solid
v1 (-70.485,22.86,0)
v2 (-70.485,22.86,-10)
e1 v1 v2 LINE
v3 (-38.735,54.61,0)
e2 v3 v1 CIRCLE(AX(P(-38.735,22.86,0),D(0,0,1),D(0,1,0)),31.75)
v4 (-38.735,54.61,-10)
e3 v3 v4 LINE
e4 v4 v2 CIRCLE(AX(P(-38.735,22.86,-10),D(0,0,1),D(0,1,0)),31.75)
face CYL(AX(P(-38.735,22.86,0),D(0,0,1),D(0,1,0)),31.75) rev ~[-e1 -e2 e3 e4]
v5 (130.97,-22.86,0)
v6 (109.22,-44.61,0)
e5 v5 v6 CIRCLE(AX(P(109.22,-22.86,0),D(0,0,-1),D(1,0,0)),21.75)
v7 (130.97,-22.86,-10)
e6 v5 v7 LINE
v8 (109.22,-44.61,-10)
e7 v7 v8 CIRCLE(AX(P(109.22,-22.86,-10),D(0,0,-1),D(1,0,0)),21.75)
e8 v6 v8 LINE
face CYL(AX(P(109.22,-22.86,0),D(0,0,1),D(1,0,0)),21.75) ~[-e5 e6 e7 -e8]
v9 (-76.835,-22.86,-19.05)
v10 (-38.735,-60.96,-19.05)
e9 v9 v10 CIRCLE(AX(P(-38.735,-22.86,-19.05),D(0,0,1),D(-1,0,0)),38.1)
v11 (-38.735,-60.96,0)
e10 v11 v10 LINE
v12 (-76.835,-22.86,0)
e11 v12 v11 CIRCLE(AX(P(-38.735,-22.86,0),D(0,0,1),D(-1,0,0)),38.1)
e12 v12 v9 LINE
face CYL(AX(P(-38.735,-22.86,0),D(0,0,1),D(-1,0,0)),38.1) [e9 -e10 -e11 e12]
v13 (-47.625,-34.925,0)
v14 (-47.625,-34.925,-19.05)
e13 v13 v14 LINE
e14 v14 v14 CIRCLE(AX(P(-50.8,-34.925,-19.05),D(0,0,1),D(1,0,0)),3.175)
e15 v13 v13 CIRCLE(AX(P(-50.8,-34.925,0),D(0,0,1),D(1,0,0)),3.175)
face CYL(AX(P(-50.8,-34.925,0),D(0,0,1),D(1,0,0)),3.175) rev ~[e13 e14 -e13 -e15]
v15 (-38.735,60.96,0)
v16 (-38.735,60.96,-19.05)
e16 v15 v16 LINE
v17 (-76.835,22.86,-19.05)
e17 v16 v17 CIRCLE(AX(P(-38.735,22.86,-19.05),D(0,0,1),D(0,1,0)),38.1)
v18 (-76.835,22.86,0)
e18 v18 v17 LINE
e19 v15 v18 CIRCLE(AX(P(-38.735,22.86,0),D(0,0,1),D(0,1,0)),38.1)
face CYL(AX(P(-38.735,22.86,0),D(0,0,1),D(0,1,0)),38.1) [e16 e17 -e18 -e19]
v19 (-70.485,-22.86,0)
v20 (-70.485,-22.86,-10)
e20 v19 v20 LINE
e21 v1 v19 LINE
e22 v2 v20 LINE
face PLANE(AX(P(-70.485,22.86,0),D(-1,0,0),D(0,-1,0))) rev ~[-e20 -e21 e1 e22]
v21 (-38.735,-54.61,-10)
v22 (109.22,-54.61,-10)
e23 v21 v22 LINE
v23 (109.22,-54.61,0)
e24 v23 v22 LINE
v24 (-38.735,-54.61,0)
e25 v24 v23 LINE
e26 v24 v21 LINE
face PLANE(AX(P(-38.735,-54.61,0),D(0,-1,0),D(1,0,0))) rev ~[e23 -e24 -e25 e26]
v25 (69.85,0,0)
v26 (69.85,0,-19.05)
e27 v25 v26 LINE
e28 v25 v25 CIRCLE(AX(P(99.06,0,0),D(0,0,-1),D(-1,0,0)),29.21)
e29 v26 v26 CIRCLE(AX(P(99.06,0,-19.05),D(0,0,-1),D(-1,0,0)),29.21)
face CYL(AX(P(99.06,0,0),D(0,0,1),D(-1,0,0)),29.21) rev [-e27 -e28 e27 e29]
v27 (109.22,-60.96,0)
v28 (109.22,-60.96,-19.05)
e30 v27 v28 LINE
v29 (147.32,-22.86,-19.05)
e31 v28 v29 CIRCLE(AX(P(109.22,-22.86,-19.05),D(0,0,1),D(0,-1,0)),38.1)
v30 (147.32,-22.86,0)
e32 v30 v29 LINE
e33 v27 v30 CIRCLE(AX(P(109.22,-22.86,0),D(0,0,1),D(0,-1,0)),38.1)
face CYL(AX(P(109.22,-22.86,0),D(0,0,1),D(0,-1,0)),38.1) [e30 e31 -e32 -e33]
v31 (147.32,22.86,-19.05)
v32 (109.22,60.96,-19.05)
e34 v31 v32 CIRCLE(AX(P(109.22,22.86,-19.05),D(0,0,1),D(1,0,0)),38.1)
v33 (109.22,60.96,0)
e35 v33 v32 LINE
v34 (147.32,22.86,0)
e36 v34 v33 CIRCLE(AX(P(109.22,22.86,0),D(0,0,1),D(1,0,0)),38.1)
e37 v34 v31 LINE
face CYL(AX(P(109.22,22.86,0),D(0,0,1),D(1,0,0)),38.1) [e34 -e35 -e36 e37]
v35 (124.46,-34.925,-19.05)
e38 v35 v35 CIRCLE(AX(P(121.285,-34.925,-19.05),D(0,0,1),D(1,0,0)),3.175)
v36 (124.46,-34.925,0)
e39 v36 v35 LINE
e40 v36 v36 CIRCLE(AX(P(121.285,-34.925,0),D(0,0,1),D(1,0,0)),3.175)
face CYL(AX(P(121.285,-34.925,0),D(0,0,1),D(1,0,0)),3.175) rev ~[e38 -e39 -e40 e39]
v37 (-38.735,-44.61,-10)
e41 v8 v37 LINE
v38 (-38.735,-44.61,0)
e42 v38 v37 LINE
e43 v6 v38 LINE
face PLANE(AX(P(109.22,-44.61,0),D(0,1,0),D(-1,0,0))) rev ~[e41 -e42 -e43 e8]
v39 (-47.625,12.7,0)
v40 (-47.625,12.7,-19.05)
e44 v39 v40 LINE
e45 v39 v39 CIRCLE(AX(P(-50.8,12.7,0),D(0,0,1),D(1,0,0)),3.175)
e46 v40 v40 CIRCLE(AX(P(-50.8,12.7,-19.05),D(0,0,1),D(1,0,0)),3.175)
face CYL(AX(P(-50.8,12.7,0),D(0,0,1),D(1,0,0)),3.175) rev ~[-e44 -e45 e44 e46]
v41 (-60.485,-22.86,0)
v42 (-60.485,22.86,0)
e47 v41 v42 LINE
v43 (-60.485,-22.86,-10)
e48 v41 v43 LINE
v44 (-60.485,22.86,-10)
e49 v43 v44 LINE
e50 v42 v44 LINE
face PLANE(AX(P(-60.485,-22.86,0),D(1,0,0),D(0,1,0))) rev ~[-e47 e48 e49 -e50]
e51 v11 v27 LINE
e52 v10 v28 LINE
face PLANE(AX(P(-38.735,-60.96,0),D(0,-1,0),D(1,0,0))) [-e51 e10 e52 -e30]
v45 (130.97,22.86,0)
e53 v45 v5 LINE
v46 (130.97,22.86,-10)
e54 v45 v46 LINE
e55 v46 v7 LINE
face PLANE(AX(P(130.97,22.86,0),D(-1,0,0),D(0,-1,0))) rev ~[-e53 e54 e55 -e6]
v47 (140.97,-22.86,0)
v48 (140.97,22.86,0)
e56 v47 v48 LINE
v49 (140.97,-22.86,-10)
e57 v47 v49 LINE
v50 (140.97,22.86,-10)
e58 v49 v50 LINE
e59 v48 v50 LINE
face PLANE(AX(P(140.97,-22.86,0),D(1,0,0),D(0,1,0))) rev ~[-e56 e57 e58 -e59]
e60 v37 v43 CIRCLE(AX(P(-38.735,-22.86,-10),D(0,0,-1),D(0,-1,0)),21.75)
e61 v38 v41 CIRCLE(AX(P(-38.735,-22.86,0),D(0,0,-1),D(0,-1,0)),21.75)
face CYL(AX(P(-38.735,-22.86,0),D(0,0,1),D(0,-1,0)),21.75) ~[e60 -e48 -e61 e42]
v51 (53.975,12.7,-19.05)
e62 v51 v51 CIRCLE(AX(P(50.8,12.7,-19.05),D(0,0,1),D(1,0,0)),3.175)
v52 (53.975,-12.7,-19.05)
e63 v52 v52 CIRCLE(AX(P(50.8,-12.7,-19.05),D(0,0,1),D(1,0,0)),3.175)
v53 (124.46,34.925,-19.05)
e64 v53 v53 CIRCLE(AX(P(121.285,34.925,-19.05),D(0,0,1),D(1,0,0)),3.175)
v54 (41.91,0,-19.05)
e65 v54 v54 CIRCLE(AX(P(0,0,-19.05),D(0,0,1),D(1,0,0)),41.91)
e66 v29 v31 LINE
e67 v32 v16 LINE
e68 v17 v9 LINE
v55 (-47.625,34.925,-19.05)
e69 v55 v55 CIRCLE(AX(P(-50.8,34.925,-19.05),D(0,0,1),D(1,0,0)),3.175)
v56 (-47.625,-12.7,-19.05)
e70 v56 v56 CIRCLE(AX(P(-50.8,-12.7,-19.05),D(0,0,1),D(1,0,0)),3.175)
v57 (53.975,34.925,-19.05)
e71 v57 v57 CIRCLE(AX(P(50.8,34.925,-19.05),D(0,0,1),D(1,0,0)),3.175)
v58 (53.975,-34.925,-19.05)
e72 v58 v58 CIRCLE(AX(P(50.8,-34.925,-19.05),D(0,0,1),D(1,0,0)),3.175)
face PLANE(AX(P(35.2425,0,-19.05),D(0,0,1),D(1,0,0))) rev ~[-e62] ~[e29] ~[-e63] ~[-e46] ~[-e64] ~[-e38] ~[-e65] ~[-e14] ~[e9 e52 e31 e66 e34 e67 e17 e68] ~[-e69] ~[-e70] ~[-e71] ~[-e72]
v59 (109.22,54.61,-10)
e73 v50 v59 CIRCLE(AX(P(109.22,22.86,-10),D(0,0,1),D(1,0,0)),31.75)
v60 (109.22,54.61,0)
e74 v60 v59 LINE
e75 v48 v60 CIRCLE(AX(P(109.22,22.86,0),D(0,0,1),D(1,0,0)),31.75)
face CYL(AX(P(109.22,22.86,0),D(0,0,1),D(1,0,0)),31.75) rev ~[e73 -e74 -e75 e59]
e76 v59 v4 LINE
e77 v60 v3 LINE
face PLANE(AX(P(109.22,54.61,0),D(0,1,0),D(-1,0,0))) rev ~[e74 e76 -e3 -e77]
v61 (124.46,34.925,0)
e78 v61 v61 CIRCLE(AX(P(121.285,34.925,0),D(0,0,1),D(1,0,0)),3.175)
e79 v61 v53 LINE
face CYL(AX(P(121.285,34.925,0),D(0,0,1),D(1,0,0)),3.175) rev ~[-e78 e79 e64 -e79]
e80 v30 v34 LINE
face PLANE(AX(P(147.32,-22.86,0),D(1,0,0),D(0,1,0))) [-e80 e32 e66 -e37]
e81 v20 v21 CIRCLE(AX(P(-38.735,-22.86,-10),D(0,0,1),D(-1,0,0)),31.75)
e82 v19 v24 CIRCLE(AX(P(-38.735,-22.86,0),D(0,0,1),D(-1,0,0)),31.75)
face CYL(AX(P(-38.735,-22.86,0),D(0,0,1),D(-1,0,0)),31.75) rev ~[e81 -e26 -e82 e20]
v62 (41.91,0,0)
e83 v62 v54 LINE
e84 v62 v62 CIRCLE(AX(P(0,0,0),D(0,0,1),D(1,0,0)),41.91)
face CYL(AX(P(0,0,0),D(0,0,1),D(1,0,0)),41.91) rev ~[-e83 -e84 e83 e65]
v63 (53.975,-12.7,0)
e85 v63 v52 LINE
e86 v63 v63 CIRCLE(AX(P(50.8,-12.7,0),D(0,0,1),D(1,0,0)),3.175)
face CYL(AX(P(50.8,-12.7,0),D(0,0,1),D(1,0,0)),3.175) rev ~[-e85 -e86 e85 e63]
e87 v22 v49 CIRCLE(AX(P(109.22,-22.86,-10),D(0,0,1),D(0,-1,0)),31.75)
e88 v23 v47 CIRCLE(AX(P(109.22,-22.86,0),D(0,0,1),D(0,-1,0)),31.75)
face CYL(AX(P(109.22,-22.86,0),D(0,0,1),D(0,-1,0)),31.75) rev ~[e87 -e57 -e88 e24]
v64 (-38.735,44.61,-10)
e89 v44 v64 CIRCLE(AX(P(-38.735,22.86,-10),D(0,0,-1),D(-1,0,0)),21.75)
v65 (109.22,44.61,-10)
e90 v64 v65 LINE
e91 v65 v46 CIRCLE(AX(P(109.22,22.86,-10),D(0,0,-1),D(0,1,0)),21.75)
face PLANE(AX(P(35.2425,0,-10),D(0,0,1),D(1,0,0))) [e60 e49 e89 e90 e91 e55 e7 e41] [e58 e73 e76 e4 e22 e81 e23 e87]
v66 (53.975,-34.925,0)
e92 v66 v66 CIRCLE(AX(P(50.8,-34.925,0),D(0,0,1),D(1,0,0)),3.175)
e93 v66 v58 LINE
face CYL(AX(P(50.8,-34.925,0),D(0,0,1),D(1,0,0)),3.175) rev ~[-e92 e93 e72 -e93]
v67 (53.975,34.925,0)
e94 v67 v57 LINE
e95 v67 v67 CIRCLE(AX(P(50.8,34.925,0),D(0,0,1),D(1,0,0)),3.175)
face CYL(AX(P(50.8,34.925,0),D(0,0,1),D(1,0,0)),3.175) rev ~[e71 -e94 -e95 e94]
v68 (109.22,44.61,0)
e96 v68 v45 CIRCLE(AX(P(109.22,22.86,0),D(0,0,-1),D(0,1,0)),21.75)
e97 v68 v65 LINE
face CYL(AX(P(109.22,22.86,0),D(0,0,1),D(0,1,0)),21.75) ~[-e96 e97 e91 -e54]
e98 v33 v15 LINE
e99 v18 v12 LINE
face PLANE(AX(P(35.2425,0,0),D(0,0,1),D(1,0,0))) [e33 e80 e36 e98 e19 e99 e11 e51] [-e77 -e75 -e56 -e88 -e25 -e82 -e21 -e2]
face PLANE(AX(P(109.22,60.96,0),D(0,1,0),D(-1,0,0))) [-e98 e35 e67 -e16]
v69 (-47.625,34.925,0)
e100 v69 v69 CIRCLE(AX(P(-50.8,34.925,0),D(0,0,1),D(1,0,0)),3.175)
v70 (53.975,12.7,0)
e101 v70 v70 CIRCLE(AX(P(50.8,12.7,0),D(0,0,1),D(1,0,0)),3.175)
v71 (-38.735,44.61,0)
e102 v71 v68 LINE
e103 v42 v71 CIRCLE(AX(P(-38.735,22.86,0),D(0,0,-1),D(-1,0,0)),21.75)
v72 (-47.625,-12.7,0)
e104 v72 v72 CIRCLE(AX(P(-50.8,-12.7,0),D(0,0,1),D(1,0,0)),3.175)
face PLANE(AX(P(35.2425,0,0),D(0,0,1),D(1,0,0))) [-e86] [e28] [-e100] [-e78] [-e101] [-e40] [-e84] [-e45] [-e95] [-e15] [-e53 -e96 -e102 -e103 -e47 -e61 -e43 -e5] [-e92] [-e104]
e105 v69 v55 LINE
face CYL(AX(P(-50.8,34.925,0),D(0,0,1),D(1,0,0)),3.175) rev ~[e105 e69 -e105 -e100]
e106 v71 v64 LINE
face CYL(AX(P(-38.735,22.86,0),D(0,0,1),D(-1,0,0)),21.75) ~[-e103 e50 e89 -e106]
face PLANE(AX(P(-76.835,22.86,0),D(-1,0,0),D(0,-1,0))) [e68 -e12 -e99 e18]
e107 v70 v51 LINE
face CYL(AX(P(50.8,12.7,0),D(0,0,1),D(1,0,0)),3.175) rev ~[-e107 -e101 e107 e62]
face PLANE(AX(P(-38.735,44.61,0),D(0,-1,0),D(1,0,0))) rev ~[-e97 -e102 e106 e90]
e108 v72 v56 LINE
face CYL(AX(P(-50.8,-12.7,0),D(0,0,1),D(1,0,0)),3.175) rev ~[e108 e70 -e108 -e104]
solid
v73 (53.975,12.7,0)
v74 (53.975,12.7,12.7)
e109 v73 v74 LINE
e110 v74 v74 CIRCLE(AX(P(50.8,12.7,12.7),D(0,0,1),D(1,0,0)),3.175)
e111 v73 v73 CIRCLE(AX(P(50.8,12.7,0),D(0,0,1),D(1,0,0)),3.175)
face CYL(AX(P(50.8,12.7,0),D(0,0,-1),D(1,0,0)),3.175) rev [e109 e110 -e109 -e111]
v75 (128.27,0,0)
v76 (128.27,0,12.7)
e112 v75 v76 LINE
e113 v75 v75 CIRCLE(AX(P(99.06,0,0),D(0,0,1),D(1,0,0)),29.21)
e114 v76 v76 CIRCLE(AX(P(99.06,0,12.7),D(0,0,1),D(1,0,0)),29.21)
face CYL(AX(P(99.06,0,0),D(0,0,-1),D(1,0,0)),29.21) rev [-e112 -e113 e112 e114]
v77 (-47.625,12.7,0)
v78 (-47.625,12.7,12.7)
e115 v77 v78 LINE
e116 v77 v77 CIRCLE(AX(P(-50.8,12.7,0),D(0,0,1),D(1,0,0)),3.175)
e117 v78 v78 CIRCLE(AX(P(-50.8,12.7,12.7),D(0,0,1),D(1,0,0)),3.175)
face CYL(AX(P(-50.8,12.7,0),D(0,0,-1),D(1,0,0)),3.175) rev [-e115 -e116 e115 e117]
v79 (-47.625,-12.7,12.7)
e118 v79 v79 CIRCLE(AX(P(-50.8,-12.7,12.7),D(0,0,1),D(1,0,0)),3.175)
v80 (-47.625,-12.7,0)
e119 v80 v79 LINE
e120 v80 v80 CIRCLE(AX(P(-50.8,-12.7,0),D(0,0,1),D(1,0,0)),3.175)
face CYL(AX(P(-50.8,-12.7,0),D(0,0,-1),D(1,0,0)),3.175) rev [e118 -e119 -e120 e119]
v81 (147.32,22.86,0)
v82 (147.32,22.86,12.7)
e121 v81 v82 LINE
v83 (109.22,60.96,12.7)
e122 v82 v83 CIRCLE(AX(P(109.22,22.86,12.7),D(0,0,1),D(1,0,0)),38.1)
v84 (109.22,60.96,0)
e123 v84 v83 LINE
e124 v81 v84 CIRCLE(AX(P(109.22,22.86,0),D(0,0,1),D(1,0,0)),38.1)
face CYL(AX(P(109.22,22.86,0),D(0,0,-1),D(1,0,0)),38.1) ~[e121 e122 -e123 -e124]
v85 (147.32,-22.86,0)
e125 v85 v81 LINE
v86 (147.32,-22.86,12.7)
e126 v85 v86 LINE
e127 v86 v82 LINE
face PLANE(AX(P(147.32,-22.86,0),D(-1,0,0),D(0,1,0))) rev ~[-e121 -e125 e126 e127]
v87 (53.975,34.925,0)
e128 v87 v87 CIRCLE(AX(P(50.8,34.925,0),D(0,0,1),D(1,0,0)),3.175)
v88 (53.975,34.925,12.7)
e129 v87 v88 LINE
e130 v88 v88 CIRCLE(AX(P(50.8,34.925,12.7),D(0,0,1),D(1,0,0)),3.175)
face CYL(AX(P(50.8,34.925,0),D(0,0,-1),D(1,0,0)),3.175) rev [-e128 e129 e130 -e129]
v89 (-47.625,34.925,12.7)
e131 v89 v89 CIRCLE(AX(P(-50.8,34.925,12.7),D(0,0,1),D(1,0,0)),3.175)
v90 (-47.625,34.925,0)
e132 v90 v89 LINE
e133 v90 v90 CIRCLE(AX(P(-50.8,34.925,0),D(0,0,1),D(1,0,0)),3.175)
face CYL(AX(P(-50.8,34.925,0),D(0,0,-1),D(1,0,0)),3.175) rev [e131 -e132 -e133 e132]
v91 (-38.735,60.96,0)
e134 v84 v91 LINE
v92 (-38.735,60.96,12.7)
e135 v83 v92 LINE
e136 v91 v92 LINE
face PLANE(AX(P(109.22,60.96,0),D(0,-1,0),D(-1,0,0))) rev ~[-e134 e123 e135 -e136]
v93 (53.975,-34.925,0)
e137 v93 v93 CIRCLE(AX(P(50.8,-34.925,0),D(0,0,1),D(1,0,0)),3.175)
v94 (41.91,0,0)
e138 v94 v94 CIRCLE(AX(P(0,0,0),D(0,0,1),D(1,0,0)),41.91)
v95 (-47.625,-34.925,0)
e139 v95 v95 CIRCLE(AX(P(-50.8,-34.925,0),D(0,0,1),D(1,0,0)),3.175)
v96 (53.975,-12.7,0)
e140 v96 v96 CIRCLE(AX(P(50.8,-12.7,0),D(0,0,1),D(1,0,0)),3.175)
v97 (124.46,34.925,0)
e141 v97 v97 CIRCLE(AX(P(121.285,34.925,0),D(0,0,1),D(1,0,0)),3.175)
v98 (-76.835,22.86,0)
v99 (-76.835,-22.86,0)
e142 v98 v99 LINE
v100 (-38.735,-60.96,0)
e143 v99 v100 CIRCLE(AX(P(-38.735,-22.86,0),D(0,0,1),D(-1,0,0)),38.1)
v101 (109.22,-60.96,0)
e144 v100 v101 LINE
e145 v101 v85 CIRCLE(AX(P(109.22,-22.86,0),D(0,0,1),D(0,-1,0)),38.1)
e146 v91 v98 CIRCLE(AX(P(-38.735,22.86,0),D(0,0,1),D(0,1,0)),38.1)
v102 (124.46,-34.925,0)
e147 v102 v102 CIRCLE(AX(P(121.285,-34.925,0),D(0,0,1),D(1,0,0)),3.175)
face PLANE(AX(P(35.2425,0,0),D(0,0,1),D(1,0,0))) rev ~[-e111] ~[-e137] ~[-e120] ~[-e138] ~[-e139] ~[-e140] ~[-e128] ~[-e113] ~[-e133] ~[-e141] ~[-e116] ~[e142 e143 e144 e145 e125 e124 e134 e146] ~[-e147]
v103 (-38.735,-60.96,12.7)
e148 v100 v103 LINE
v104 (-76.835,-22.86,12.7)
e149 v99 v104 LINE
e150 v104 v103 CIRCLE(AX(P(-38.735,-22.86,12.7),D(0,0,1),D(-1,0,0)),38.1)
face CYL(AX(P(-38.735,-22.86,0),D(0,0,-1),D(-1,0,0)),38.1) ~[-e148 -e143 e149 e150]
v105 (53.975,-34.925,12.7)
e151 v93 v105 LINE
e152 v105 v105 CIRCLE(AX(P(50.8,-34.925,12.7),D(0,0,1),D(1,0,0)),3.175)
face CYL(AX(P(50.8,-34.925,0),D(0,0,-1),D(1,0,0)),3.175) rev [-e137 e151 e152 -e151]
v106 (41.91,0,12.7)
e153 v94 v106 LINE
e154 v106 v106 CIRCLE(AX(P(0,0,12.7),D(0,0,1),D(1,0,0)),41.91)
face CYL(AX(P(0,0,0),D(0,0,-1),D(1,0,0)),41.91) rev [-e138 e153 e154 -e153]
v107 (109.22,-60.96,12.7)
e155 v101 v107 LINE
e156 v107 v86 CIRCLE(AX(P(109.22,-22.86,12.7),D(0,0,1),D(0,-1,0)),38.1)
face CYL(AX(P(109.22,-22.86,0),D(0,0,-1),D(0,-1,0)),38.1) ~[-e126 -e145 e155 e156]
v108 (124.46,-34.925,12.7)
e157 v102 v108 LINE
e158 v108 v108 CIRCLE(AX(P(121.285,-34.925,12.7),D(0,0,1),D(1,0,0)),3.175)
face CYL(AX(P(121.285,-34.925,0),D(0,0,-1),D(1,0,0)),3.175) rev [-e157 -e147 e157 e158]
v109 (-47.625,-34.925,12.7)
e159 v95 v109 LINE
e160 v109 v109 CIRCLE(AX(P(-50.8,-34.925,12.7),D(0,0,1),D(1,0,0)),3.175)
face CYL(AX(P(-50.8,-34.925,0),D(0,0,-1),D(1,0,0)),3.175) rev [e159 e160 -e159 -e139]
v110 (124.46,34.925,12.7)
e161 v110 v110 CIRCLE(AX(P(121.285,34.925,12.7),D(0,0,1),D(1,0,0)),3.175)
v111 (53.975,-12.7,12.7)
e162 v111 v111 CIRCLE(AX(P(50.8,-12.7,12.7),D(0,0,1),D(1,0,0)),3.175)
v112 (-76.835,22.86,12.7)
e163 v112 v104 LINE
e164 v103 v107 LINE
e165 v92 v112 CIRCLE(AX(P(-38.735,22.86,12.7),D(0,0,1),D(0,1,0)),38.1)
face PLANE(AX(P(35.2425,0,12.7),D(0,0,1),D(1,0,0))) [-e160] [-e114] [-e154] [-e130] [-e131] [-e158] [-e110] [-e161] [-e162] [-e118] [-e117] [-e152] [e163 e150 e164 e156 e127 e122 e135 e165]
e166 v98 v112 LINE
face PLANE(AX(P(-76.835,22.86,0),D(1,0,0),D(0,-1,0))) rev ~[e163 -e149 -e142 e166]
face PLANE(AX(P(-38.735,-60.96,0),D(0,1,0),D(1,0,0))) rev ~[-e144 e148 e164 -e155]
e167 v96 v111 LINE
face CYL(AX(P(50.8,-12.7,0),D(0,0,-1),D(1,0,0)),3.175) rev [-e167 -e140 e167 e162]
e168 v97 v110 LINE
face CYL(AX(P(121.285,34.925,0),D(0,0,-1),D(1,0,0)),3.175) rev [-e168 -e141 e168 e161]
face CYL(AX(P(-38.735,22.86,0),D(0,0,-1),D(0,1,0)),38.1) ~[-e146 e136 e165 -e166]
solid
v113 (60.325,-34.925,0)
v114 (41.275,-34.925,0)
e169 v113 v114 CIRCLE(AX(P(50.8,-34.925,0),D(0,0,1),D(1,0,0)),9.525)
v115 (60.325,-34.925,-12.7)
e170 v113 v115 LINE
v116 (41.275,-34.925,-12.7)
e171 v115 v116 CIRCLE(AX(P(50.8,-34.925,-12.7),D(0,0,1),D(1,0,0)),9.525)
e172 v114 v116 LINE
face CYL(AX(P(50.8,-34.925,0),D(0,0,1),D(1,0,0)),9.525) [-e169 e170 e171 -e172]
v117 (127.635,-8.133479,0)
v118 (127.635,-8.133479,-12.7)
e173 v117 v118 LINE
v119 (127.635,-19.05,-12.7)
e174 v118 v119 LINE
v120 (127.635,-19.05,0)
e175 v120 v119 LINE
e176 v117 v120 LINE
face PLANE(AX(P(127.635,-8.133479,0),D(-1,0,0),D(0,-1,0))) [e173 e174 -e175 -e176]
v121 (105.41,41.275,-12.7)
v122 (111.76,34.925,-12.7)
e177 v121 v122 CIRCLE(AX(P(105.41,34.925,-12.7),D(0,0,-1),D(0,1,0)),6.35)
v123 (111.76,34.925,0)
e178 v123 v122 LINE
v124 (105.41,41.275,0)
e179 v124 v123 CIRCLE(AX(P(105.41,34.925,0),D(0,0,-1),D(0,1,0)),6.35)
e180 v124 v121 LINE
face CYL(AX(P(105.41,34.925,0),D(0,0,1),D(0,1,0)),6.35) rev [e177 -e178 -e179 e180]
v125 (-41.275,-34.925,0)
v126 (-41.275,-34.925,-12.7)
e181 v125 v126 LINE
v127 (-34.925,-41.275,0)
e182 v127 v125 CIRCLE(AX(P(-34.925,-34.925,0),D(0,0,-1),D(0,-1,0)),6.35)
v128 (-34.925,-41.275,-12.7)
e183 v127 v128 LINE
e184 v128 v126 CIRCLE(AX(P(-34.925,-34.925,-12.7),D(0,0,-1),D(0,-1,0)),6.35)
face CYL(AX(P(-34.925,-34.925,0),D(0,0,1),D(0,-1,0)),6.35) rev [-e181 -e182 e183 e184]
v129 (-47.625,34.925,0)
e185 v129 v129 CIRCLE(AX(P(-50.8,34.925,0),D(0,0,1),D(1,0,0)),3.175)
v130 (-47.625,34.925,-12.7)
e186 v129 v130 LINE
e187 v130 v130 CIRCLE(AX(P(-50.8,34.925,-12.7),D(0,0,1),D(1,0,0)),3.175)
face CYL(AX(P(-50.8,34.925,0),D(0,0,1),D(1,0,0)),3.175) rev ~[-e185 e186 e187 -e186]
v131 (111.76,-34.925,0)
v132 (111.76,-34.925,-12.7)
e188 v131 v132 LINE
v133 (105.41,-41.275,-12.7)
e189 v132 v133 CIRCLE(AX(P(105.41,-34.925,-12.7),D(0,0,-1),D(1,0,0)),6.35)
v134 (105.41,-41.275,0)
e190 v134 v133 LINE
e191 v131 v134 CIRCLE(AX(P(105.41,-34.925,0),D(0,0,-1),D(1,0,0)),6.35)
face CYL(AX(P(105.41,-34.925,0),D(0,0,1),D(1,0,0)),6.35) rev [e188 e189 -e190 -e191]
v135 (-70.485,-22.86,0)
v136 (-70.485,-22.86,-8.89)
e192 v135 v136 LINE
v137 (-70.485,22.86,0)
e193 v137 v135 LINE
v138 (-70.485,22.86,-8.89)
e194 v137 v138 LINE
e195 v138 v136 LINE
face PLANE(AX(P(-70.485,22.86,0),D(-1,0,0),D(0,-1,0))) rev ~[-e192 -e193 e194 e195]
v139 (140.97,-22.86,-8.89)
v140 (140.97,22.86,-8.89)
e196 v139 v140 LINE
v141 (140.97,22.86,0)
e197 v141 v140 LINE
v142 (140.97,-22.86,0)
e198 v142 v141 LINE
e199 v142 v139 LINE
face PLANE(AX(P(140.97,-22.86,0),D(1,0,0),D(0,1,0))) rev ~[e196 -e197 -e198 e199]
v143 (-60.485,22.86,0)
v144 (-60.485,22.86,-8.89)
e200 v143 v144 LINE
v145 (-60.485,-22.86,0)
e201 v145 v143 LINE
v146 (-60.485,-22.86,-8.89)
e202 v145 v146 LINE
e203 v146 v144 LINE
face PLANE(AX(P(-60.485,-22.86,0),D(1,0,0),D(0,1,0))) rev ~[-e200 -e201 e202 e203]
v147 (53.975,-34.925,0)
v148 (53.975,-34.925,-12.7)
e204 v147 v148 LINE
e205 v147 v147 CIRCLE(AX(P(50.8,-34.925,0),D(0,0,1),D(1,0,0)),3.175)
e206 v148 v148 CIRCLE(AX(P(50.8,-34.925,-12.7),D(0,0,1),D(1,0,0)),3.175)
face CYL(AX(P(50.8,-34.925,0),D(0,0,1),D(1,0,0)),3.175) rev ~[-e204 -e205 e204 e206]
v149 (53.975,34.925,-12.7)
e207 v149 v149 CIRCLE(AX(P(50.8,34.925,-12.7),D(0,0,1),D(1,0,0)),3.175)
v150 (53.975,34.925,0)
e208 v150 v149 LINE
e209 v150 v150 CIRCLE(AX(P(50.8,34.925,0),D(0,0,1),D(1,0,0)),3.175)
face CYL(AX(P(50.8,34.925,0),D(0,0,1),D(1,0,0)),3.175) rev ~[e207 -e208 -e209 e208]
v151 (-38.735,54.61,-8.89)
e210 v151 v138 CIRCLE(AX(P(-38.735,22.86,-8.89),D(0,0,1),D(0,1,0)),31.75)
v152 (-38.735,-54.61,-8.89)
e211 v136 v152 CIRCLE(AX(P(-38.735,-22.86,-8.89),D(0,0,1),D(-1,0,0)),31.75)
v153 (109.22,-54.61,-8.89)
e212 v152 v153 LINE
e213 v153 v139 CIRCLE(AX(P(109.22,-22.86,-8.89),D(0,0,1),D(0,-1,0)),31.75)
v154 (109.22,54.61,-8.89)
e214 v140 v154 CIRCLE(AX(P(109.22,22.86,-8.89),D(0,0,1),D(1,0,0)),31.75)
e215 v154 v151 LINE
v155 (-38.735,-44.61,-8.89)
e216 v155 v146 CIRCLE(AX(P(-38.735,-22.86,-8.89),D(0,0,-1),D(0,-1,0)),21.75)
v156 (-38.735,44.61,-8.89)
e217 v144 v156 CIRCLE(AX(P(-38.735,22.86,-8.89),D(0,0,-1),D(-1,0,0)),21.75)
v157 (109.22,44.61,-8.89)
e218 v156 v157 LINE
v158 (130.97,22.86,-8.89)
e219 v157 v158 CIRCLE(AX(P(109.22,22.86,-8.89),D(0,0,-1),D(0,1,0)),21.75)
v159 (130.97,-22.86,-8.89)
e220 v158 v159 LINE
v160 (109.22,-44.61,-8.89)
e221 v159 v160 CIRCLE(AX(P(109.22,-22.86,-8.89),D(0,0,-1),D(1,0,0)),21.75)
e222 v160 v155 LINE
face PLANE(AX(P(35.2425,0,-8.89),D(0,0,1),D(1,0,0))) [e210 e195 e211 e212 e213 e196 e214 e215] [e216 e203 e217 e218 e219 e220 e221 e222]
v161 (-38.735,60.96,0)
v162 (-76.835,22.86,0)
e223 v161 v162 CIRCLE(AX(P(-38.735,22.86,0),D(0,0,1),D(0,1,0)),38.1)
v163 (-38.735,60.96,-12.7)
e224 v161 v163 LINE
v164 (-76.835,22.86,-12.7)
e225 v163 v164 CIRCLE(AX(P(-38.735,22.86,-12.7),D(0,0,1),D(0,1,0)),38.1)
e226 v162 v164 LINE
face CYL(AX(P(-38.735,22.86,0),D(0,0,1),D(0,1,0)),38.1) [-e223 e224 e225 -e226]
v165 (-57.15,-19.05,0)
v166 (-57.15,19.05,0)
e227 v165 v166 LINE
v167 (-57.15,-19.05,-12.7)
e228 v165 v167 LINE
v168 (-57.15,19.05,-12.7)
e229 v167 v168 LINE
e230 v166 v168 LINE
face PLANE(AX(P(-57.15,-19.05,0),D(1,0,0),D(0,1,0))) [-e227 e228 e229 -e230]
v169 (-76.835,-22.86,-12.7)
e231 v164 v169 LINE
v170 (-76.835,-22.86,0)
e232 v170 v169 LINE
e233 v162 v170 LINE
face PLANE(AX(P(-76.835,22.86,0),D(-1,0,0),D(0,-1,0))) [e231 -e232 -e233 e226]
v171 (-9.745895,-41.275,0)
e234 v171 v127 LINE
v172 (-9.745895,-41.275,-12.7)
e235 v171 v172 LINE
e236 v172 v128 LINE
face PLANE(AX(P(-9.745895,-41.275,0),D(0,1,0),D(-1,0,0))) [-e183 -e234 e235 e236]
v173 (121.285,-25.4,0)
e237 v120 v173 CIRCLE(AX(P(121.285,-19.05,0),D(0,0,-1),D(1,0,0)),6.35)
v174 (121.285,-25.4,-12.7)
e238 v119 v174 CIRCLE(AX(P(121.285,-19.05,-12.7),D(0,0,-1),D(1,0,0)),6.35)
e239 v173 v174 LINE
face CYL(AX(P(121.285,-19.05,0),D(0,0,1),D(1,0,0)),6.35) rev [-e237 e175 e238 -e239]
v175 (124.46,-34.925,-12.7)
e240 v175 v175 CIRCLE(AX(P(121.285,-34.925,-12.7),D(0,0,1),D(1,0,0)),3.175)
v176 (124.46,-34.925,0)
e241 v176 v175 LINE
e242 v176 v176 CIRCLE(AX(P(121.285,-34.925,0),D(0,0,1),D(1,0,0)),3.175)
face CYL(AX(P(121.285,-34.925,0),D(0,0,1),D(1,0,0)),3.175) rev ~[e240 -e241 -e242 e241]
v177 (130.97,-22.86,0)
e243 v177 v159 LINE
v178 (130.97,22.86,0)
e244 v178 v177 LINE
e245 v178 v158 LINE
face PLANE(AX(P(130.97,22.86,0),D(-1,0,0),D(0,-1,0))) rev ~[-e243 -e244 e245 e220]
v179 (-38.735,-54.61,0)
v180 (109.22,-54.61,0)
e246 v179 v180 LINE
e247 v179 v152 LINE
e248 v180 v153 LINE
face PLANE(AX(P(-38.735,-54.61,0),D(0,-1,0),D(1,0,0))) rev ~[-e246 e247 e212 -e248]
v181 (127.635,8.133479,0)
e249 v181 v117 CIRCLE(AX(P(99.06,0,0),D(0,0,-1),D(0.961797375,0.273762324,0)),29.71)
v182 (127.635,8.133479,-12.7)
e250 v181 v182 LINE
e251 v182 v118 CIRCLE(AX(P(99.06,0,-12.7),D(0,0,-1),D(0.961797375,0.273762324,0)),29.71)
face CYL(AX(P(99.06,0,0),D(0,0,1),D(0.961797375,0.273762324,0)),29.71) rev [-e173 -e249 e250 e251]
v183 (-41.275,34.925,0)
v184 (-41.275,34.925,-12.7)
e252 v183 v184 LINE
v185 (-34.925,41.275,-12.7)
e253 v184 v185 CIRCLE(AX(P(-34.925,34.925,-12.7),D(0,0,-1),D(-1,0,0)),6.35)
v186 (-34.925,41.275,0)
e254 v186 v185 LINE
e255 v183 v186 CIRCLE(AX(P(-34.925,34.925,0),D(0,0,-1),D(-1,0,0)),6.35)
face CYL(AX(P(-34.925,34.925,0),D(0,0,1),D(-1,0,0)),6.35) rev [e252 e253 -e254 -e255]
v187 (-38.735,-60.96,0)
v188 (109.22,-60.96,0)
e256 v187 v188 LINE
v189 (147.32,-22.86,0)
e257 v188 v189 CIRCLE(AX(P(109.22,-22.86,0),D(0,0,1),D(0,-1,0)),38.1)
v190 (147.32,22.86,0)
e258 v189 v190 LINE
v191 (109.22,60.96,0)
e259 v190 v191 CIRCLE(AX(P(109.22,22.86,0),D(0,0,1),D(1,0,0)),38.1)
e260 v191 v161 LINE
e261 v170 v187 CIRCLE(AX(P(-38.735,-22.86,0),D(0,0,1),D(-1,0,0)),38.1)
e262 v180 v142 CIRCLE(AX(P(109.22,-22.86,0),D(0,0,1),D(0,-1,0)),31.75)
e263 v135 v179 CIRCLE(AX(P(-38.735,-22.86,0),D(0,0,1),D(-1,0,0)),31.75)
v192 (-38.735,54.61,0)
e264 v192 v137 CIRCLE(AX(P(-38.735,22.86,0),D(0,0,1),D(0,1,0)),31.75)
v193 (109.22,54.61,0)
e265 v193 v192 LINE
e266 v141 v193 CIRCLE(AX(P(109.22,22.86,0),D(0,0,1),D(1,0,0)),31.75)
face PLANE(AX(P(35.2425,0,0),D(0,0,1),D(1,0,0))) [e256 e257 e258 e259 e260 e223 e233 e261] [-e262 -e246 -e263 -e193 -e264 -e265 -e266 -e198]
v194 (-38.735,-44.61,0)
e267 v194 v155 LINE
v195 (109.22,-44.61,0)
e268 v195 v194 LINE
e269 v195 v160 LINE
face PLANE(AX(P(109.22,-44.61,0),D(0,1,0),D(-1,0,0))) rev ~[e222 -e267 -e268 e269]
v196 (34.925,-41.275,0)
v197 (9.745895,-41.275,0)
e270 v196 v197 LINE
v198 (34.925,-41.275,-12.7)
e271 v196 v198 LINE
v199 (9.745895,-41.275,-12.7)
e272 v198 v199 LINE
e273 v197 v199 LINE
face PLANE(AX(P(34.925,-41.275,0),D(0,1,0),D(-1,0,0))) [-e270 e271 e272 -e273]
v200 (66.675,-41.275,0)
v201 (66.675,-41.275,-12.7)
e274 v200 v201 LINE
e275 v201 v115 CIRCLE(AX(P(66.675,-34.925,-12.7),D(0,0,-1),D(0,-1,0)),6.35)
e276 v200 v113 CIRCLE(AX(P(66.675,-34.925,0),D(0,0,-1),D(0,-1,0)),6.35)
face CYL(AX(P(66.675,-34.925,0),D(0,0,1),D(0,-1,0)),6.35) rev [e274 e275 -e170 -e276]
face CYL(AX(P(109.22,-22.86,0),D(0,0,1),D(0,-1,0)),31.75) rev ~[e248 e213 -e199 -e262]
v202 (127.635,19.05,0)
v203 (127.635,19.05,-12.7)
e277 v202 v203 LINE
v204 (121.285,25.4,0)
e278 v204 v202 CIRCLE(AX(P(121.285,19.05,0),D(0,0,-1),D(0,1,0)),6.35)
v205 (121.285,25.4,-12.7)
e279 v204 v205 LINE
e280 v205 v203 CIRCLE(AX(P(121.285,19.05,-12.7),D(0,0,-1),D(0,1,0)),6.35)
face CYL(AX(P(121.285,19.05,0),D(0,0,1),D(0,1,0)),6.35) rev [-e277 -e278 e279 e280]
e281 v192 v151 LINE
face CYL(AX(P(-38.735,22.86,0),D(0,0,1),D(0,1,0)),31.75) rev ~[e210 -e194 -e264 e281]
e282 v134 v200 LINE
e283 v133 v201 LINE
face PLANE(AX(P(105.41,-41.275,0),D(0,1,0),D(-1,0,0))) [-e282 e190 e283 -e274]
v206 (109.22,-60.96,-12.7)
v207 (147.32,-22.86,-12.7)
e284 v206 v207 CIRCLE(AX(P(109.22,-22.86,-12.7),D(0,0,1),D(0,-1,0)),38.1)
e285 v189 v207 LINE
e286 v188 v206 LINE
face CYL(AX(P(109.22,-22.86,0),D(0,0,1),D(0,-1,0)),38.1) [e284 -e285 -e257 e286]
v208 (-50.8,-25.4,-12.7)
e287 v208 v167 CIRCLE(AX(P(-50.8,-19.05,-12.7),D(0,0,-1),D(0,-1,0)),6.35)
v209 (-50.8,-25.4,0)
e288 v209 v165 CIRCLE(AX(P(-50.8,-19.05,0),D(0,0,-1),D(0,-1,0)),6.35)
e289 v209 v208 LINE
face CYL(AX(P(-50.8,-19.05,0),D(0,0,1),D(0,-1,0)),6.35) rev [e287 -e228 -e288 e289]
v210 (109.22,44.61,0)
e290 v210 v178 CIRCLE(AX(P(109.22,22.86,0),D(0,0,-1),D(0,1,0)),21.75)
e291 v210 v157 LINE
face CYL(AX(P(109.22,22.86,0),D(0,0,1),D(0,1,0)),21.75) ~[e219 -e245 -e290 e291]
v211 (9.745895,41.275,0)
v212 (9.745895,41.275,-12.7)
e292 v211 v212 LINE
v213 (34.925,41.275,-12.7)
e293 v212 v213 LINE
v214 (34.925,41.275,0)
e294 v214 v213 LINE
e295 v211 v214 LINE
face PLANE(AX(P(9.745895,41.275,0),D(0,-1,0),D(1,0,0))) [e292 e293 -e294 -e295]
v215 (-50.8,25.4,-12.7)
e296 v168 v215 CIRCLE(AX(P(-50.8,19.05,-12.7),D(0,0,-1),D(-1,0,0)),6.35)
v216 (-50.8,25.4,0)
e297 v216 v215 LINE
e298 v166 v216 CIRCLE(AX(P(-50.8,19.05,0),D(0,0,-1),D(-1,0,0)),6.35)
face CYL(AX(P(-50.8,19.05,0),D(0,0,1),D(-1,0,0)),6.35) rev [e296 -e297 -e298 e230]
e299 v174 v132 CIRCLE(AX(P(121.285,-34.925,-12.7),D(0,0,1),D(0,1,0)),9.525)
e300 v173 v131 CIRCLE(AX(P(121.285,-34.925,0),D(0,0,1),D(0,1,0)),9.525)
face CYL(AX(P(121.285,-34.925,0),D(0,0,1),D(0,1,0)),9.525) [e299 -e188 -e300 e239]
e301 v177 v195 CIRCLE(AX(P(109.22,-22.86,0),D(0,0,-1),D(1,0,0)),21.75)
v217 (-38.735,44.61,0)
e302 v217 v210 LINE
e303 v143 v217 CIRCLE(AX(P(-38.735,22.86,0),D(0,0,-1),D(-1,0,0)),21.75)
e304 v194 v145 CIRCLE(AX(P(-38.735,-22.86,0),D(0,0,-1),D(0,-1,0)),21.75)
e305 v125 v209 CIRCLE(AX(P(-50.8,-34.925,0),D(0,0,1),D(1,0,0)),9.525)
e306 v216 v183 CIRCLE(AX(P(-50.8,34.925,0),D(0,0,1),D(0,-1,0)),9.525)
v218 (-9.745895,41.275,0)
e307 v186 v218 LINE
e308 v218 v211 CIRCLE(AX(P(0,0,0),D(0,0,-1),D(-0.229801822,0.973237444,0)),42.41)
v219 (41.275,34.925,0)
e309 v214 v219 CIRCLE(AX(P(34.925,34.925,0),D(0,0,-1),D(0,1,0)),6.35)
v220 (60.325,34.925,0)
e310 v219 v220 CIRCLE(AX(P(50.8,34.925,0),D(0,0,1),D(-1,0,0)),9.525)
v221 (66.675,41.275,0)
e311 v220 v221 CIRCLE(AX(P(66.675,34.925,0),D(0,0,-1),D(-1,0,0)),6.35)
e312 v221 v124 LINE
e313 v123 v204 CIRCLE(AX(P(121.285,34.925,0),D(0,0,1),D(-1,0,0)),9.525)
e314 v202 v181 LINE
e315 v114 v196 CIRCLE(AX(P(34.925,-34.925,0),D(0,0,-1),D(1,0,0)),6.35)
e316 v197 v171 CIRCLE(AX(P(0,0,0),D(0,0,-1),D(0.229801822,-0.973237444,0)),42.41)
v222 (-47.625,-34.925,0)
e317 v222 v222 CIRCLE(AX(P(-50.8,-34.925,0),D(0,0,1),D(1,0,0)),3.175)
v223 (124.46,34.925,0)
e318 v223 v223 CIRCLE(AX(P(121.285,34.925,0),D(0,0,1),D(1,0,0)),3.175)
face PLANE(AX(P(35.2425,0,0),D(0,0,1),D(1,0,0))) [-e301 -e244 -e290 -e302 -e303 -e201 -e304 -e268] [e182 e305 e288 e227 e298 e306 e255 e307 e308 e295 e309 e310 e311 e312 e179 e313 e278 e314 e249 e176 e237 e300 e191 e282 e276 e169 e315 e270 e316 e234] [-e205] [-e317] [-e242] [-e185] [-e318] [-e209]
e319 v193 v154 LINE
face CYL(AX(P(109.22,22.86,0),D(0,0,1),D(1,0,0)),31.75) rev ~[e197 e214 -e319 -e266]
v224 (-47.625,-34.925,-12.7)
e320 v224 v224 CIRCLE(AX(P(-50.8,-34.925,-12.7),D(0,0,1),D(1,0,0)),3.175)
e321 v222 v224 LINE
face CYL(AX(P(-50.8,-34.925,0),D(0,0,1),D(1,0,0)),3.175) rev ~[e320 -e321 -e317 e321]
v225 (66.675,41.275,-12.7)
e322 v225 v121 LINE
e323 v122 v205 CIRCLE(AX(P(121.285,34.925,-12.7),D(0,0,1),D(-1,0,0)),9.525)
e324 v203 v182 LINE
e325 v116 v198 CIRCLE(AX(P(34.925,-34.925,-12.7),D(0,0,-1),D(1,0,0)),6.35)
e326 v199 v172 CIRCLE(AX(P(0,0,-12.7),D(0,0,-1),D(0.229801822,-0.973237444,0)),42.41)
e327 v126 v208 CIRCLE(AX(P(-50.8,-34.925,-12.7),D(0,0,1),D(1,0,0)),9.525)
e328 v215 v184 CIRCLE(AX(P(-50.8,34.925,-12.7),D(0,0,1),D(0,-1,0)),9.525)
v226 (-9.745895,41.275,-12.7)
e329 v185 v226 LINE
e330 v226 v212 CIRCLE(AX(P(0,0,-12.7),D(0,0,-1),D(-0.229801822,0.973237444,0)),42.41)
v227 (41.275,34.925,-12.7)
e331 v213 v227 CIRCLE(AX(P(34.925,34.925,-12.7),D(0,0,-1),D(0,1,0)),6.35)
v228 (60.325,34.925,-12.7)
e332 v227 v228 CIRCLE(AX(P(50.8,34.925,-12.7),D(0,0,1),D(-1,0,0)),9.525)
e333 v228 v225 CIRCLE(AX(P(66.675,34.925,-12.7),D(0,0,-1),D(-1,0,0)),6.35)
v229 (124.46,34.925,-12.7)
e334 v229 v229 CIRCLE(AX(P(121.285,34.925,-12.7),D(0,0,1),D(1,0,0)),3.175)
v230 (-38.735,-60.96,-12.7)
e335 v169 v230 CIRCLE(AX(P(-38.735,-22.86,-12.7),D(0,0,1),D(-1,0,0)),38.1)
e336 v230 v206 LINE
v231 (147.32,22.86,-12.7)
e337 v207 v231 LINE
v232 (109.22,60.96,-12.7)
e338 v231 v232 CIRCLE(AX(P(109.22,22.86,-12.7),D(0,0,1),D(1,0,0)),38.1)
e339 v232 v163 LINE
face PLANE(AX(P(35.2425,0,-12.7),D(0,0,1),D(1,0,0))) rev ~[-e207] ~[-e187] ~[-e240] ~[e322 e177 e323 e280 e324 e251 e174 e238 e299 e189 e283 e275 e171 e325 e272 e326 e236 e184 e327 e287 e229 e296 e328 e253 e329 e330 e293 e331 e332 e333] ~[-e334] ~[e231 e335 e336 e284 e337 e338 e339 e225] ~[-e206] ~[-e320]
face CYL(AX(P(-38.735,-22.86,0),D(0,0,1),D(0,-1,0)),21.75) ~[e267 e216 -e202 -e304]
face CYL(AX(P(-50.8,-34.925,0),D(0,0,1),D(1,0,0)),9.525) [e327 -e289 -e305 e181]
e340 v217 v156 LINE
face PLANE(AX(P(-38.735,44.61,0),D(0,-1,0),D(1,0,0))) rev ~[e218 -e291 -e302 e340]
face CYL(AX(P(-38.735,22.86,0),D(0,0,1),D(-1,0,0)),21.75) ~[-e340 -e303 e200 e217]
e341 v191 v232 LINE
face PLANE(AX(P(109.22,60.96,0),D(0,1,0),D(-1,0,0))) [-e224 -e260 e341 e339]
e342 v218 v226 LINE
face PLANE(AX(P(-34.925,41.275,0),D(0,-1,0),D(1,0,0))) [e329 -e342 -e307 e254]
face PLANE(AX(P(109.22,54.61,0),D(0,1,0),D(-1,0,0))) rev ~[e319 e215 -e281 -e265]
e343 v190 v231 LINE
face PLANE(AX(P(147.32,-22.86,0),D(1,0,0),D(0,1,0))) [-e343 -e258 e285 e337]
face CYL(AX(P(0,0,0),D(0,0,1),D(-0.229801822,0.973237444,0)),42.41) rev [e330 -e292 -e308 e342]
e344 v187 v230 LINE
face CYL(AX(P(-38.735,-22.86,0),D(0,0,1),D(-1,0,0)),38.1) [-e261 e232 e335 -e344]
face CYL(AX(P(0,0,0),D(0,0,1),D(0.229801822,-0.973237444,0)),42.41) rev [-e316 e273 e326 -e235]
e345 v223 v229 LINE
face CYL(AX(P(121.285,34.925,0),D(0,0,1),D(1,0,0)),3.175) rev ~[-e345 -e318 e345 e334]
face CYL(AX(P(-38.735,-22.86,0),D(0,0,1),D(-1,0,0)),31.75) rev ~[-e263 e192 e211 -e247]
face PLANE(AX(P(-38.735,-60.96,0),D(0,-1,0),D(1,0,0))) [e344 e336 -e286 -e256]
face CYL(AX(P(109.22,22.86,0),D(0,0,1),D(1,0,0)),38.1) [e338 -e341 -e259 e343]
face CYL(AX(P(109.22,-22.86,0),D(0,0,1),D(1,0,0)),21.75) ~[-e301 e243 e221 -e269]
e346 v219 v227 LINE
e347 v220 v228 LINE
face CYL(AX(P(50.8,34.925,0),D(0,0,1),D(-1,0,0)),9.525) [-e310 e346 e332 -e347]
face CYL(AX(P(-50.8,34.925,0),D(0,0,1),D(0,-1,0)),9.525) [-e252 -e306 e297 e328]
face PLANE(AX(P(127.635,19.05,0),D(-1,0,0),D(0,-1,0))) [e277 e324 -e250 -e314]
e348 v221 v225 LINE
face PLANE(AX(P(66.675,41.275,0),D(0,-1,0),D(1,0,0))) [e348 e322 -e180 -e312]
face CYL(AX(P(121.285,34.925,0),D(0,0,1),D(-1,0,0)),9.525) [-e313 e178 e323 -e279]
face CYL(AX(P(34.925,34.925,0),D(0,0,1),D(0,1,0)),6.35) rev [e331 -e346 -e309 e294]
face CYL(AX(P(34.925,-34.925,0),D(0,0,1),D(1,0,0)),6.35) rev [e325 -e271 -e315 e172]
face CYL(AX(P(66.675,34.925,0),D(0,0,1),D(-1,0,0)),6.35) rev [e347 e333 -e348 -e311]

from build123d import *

# Parameters (mm, degrees)
F0_R     = 3.175
F0_R_2   = 41.91
F1_DEPTH = 19.05
F2_DEPTH = 10
F3_R     = 3.175
F3_R_2   = 41.91
F3_R_3   = 29.21
F5_DEPTH = 12.7
F4_R     = 3.175
F6_DEPTH = 12.7
F7_DEPTH = 8.89


with BuildPart() as f1:
    # F0 (on Top) → F1 (new body)
    with BuildSketch(Plane.XY):
        with BuildLine():
            ThreePointArc((109.22, -60.96), (136.1607683632, -49.8007683632), (147.32, -22.86))
            Line((147.32, -22.86), (147.32, 22.86))
            ThreePointArc((147.32, 22.86), (136.1607683632, 49.8007683632), (109.22, 60.96))
            Line((109.22, 60.96), (-38.735, 60.96))
            ThreePointArc((-38.735, 60.96), (-65.6757683632, 49.8007683632), (-76.835, 22.86))
            Line((-76.835, 22.86), (-76.835, -22.86))
            ThreePointArc((-76.835, -22.86), (-65.6757683632, -49.8007683632), (-38.735, -60.96))
            Line((-38.735, -60.96), (109.22, -60.96))
        make_face()
        with BuildLine():
            ThreePointArc((140.97, -22.86), (131.6706403027, -45.3106403027), (109.22, -54.61))
            Line((109.22, -54.61), (-38.735, -54.61))
            ThreePointArc((-38.735, -54.61), (-61.1856403027, -45.3106403027), (-70.485, -22.86))
            Line((-70.485, -22.86), (-70.485, 22.86))
            ThreePointArc((-70.485, 22.86), (-61.1856403027, 45.3106403027), (-38.735, 54.61))
            Line((-38.735, 54.61), (109.22, 54.61))
            ThreePointArc((109.22, 54.61), (131.6706403027, 45.3106403027), (140.97, 22.86))
            Line((140.97, 22.86), (140.97, -22.86))
        make_face(mode=Mode.SUBTRACT)
        with BuildLine():
            Line((-38.735, -54.61), (109.22, -54.61))
            ThreePointArc((109.22, -54.61), (131.6706403027, -45.3106403027), (140.97, -22.86))
            Line((140.97, -22.86), (140.97, 22.86))
            ThreePointArc((140.97, 22.86), (131.6706403027, 45.3106403027), (109.22, 54.61))
            Line((109.22, 54.61), (-38.735, 54.61))
            ThreePointArc((-38.735, 54.61), (-61.1856403027, 45.3106403027), (-70.485, 22.86))
            Line((-70.485, 22.86), (-70.485, -22.86))
            ThreePointArc((-70.485, -22.86), (-61.1856403027, -45.3106403027), (-38.735, -54.61))
        make_face()
        with BuildLine():
            ThreePointArc((130.97, -22.86), (124.5995724908, -38.2395724908), (109.22, -44.61))
            Line((109.22, -44.61), (-38.735, -44.61))
            ThreePointArc((-38.735, -44.61), (-54.1145724908, -38.2395724908), (-60.485, -22.86))
            Line((-60.485, -22.86), (-60.485, 22.86))
            ThreePointArc((-60.485, 22.86), (-54.1145724908, 38.2395724908), (-38.735, 44.61))
            Line((-38.735, 44.61), (109.22, 44.61))
            ThreePointArc((109.22, 44.61), (124.5995724908, 38.2395724908), (130.97, 22.86))
            Line((130.97, 22.86), (130.97, -22.86))
        make_face(mode=Mode.SUBTRACT)
        with BuildLine():
            Line((-38.735, -44.61), (109.22, -44.61))
            ThreePointArc((109.22, -44.61), (124.5995724908, -38.2395724908), (130.97, -22.86))
            Line((130.97, -22.86), (130.97, 22.86))
            ThreePointArc((130.97, 22.86), (124.5995724908, 38.2395724908), (109.22, 44.61))
            Line((109.22, 44.61), (-38.735, 44.61))
            ThreePointArc((-38.735, 44.61), (-54.1145724908, 38.2395724908), (-60.485, 22.86))
            Line((-60.485, 22.86), (-60.485, -22.86))
            ThreePointArc((-60.485, -22.86), (-54.1145724908, -38.2395724908), (-38.735, -44.61))
        make_face()
        with Locations((-50.8, -34.925)):
            Circle(F0_R, mode=Mode.SUBTRACT)
        with Locations((-50.8, -12.7)):
            Circle(F0_R, mode=Mode.SUBTRACT)
        Circle(F0_R_2, mode=Mode.SUBTRACT)
        with Locations((50.8, -34.925)):
            Circle(F0_R, mode=Mode.SUBTRACT)
        with Locations((121.285, -34.925)):
            Circle(F0_R, mode=Mode.SUBTRACT)
        with Locations((50.8, -12.7)):
            Circle(F0_R, mode=Mode.SUBTRACT)
        with BuildLine():
            ThreePointArc((128.27, 0), (99.06, -29.21), (69.85, 0))
            ThreePointArc((69.85, 0), (99.06, 29.21), (128.27, 0))
        make_face(mode=Mode.SUBTRACT)
        with Locations((-50.8, 12.7)):
            Circle(F0_R, mode=Mode.SUBTRACT)
        with Locations((-50.8, 34.925)):
            Circle(F0_R, mode=Mode.SUBTRACT)
        with Locations((50.8, 12.7)):
            Circle(F0_R, mode=Mode.SUBTRACT)
        with Locations((50.8, 34.925)):
            Circle(F0_R, mode=Mode.SUBTRACT)
        with Locations((121.285, 34.925)):
            Circle(F0_R, mode=Mode.SUBTRACT)
    extrude(amount=-F1_DEPTH)

    # F0 (on Top) → F2 (cut)
    with BuildSketch(Plane.XY):
        with BuildLine():
            Line((-38.735, -54.61), (109.22, -54.61))
            ThreePointArc((109.22, -54.61), (131.6706403027, -45.3106403027), (140.97, -22.86))
            Line((140.97, -22.86), (140.97, 22.86))
            ThreePointArc((140.97, 22.86), (131.6706403027, 45.3106403027), (109.22, 54.61))
            Line((109.22, 54.61), (-38.735, 54.61))
            ThreePointArc((-38.735, 54.61), (-61.1856403027, 45.3106403027), (-70.485, 22.86))
            Line((-70.485, 22.86), (-70.485, -22.86))
            ThreePointArc((-70.485, -22.86), (-61.1856403027, -45.3106403027), (-38.735, -54.61))
        make_face()
        with BuildLine():
            ThreePointArc((130.97, -22.86), (124.5995724908, -38.2395724908), (109.22, -44.61))
            Line((109.22, -44.61), (-38.735, -44.61))
            ThreePointArc((-38.735, -44.61), (-54.1145724908, -38.2395724908), (-60.485, -22.86))
            Line((-60.485, -22.86), (-60.485, 22.86))
            ThreePointArc((-60.485, 22.86), (-54.1145724908, 38.2395724908), (-38.735, 44.61))
            Line((-38.735, 44.61), (109.22, 44.61))
            ThreePointArc((109.22, 44.61), (124.5995724908, 38.2395724908), (130.97, 22.86))
            Line((130.97, 22.86), (130.97, -22.86))
        make_face(mode=Mode.SUBTRACT)
    extrude(amount=-F2_DEPTH, mode=Mode.SUBTRACT)


with BuildPart() as f5:
    # F3 (on Top) → F5 (new body)
    with BuildSketch(Plane.XY):
        with BuildLine():
            Line((109.22, 60.96), (-38.735, 60.96))
            ThreePointArc((-38.735, 60.96), (-65.6757683632, 49.8007683632), (-76.835, 22.86))
            Line((-76.835, 22.86), (-76.835, -22.86))
            ThreePointArc((-76.835, -22.86), (-65.6757683632, -49.8007683632), (-38.735, -60.96))
            Line((-38.735, -60.96), (109.22, -60.96))
            ThreePointArc((109.22, -60.96), (136.1607683632, -49.8007683632), (147.32, -22.86))
            Line((147.32, -22.86), (147.32, 22.86))
            ThreePointArc((147.32, 22.86), (136.1607683632, 49.8007683632), (109.22, 60.96))
        make_face()
        with Locations((-50.8, -34.925)):
            Circle(F3_R, mode=Mode.SUBTRACT)
        with Locations((-50.8, -12.7)):
            Circle(F3_R, mode=Mode.SUBTRACT)
        Circle(F3_R_2, mode=Mode.SUBTRACT)
        with Locations((50.8, -34.925)):
            Circle(F3_R, mode=Mode.SUBTRACT)
        with Locations((121.285, -34.925)):
            Circle(F3_R, mode=Mode.SUBTRACT)
        with Locations((50.8, -12.7)):
            Circle(F3_R, mode=Mode.SUBTRACT)
        with Locations((99.06, 0)):
            Circle(F3_R_3, mode=Mode.SUBTRACT)
        with Locations((-50.8, 12.7)):
            Circle(F3_R, mode=Mode.SUBTRACT)
        with Locations((-50.8, 34.925)):
            Circle(F3_R, mode=Mode.SUBTRACT)
        with Locations((50.8, 12.7)):
            Circle(F3_R, mode=Mode.SUBTRACT)
        with Locations((50.8, 34.925)):
            Circle(F3_R, mode=Mode.SUBTRACT)
        with Locations((121.285, 34.925)):
            Circle(F3_R, mode=Mode.SUBTRACT)
    extrude(amount=F5_DEPTH)


with BuildPart() as f6:
    # F4 (on Top) → F6 (new body)
    with BuildSketch(Plane.XY):
        with BuildLine():
            Line((109.22, 60.96), (-38.735, 60.96))
            ThreePointArc((-38.735, 60.96), (-65.6757683632, 49.8007683632), (-76.835, 22.86))
            Line((-76.835, 22.86), (-76.835, -22.86))
            ThreePointArc((-76.835, -22.86), (-65.6757683632, -49.8007683632), (-38.735, -60.96))
            Line((-38.735, -60.96), (109.22, -60.96))
            ThreePointArc((109.22, -60.96), (136.1607683632, -49.8007683632), (147.32, -22.86))
            Line((147.32, -22.86), (147.32, 22.86))
            ThreePointArc((147.32, 22.86), (136.1607683632, 49.8007683632), (109.22, 60.96))
        make_face()
        with BuildLine():
            ThreePointArc((-70.485, 22.86), (-61.1856403027, 45.3106403027), (-38.735, 54.61))
            Line((-38.735, 54.61), (109.22, 54.61))
            ThreePointArc((109.22, 54.61), (131.6706403027, 45.3106403027), (140.97, 22.86))
            Line((140.97, 22.86), (140.97, -22.86))
            ThreePointArc((140.97, -22.86), (131.6706403027, -45.3106403027), (109.22, -54.61))
            Line((109.22, -54.61), (-38.735, -54.61))
            ThreePointArc((-38.735, -54.61), (-61.1856403027, -45.3106403027), (-70.485, -22.86))
            Line((-70.485, -22.86), (-70.485, 22.86))
        make_face(mode=Mode.SUBTRACT)
        with BuildLine():
            Line((109.22, 54.61), (-38.735, 54.61))
            ThreePointArc((-38.735, 54.61), (-61.1856403027, 45.3106403027), (-70.485, 22.86))
            Line((-70.485, 22.86), (-70.485, -22.86))
            ThreePointArc((-70.485, -22.86), (-61.1856403027, -45.3106403027), (-38.735, -54.61))
            Line((-38.735, -54.61), (109.22, -54.61))
            ThreePointArc((109.22, -54.61), (131.6706403027, -45.3106403027), (140.97, -22.86))
            Line((140.97, -22.86), (140.97, 22.86))
            ThreePointArc((140.97, 22.86), (131.6706403027, 45.3106403027), (109.22, 54.61))
        make_face()
        with BuildLine():
            ThreePointArc((-60.485, 22.86), (-54.1145724908, 38.2395724908), (-38.735, 44.61))
            Line((-38.735, 44.61), (109.22, 44.61))
            ThreePointArc((109.22, 44.61), (124.5995724908, 38.2395724908), (130.97, 22.86))
            Line((130.97, 22.86), (130.97, -22.86))
            ThreePointArc((130.97, -22.86), (124.5995724908, -38.2395724908), (109.22, -44.61))
            Line((109.22, -44.61), (-38.735, -44.61))
            ThreePointArc((-38.735, -44.61), (-54.1145724908, -38.2395724908), (-60.485, -22.86))
            Line((-60.485, -22.86), (-60.485, 22.86))
        make_face(mode=Mode.SUBTRACT)
        with BuildLine():
            Line((109.22, 44.61), (-38.735, 44.61))
            ThreePointArc((-38.735, 44.61), (-54.1145724908, 38.2395724908), (-60.485, 22.86))
            Line((-60.485, 22.86), (-60.485, -22.86))
            ThreePointArc((-60.485, -22.86), (-54.1145724908, -38.2395724908), (-38.735, -44.61))
            Line((-38.735, -44.61), (109.22, -44.61))
            ThreePointArc((109.22, -44.61), (124.5995724908, -38.2395724908), (130.97, -22.86))
            Line((130.97, -22.86), (130.97, 22.86))
            ThreePointArc((130.97, 22.86), (124.5995724908, 38.2395724908), (109.22, 44.61))
        make_face()
        with Locations((-50.8, -34.925)):
            Circle(F4_R, mode=Mode.SUBTRACT)
        with Locations((50.8, -34.925)):
            Circle(F4_R, mode=Mode.SUBTRACT)
        with Locations((121.285, -34.925)):
            Circle(F4_R, mode=Mode.SUBTRACT)
        with BuildLine():
            ThreePointArc((-57.15, 19.05), (-55.2901280605, 23.5401280605), (-50.8, 25.4))
            ThreePointArc((-50.8, 25.4), (-44.0648079092, 28.1898079092), (-41.275, 34.925))
            ThreePointArc((-41.275, 34.925), (-39.4151280605, 39.4151280605), (-34.925, 41.275))
            Line((-34.925, 41.275), (-9.7458952898, 41.275))
            ThreePointArc((-9.7458952898, 41.275), (0, 42.41), (9.7458952898, 41.275))
            Line((9.7458952898, 41.275), (34.925, 41.275))
            ThreePointArc((34.925, 41.275), (39.4151280605, 39.4151280605), (41.275, 34.925))
            ThreePointArc((41.275, 34.925), (50.8, 25.4), (60.325, 34.925))
            ThreePointArc((60.325, 34.925), (62.1848719395, 39.4151280605), (66.675, 41.275))
            Line((66.675, 41.275), (105.41, 41.275))
            ThreePointArc((105.41, 41.275), (109.9001280605, 39.4151280605), (111.76, 34.925))
            ThreePointArc((111.76, 34.925), (114.5498079092, 28.1898079092), (121.285, 25.4))
            ThreePointArc((121.285, 25.4), (125.7751280605, 23.5401280605), (127.635, 19.05))
            Line((127.635, 19.05), (127.635, 8.1334786531))
            ThreePointArc((127.635, 8.1334786531), (128.77, 0), (127.635, -8.1334786531))
            Line((127.635, -8.1334786531), (127.635, -19.05))
            ThreePointArc((127.635, -19.05), (125.7751280605, -23.5401280605), (121.285, -25.4))
            ThreePointArc((121.285, -25.4), (114.5498079092, -28.1898079092), (111.76, -34.925))
            ThreePointArc((111.76, -34.925), (109.9001280605, -39.4151280605), (105.41, -41.275))
            Line((105.41, -41.275), (66.675, -41.275))
            ThreePointArc((66.675, -41.275), (62.1848719395, -39.4151280605), (60.325, -34.925))
            ThreePointArc((60.325, -34.925), (50.8, -25.4), (41.275, -34.925))
            ThreePointArc((41.275, -34.925), (39.4151280605, -39.4151280605), (34.925, -41.275))
            Line((34.925, -41.275), (9.7458952898, -41.275))
            ThreePointArc((9.7458952898, -41.275), (0, -42.41), (-9.7458952898, -41.275))
            Line((-9.7458952898, -41.275), (-34.925, -41.275))
            ThreePointArc((-34.925, -41.275), (-39.4151280605, -39.4151280605), (-41.275, -34.925))
            ThreePointArc((-41.275, -34.925), (-44.0648079092, -28.1898079092), (-50.8, -25.4))
            ThreePointArc((-50.8, -25.4), (-55.2901280605, -23.5401280605), (-57.15, -19.05))
            Line((-57.15, -19.05), (-57.15, 19.05))
        make_face(mode=Mode.SUBTRACT)
        with Locations((-50.8, 34.925)):
            Circle(F4_R, mode=Mode.SUBTRACT)
        with Locations((50.8, 34.925)):
            Circle(F4_R, mode=Mode.SUBTRACT)
        with Locations((121.285, 34.925)):
            Circle(F4_R, mode=Mode.SUBTRACT)
    extrude(amount=-F6_DEPTH)

    # F4 (on Top) → F7 (cut)
    with BuildSketch(Plane.XY):
        with BuildLine():
            Line((109.22, 54.61), (-38.735, 54.61))
            ThreePointArc((-38.735, 54.61), (-61.1856403027, 45.3106403027), (-70.485, 22.86))
            Line((-70.485, 22.86), (-70.485, -22.86))
            ThreePointArc((-70.485, -22.86), (-61.1856403027, -45.3106403027), (-38.735, -54.61))
            Line((-38.735, -54.61), (109.22, -54.61))
            ThreePointArc((109.22, -54.61), (131.6706403027, -45.3106403027), (140.97, -22.86))
            Line((140.97, -22.86), (140.97, 22.86))
            ThreePointArc((140.97, 22.86), (131.6706403027, 45.3106403027), (109.22, 54.61))
        make_face()
        with BuildLine():
            ThreePointArc((-60.485, 22.86), (-54.1145724908, 38.2395724908), (-38.735, 44.61))
            Line((-38.735, 44.61), (109.22, 44.61))
            ThreePointArc((109.22, 44.61), (124.5995724908, 38.2395724908), (130.97, 22.86))
            Line((130.97, 22.86), (130.97, -22.86))
            ThreePointArc((130.97, -22.86), (124.5995724908, -38.2395724908), (109.22, -44.61))
            Line((109.22, -44.61), (-38.735, -44.61))
            ThreePointArc((-38.735, -44.61), (-54.1145724908, -38.2395724908), (-60.485, -22.86))
            Line((-60.485, -22.86), (-60.485, 22.86))
        make_face(mode=Mode.SUBTRACT)
    extrude(amount=-F7_DEPTH, mode=Mode.SUBTRACT)


solid = Compound([f1.part, f5.part, f6.part])
